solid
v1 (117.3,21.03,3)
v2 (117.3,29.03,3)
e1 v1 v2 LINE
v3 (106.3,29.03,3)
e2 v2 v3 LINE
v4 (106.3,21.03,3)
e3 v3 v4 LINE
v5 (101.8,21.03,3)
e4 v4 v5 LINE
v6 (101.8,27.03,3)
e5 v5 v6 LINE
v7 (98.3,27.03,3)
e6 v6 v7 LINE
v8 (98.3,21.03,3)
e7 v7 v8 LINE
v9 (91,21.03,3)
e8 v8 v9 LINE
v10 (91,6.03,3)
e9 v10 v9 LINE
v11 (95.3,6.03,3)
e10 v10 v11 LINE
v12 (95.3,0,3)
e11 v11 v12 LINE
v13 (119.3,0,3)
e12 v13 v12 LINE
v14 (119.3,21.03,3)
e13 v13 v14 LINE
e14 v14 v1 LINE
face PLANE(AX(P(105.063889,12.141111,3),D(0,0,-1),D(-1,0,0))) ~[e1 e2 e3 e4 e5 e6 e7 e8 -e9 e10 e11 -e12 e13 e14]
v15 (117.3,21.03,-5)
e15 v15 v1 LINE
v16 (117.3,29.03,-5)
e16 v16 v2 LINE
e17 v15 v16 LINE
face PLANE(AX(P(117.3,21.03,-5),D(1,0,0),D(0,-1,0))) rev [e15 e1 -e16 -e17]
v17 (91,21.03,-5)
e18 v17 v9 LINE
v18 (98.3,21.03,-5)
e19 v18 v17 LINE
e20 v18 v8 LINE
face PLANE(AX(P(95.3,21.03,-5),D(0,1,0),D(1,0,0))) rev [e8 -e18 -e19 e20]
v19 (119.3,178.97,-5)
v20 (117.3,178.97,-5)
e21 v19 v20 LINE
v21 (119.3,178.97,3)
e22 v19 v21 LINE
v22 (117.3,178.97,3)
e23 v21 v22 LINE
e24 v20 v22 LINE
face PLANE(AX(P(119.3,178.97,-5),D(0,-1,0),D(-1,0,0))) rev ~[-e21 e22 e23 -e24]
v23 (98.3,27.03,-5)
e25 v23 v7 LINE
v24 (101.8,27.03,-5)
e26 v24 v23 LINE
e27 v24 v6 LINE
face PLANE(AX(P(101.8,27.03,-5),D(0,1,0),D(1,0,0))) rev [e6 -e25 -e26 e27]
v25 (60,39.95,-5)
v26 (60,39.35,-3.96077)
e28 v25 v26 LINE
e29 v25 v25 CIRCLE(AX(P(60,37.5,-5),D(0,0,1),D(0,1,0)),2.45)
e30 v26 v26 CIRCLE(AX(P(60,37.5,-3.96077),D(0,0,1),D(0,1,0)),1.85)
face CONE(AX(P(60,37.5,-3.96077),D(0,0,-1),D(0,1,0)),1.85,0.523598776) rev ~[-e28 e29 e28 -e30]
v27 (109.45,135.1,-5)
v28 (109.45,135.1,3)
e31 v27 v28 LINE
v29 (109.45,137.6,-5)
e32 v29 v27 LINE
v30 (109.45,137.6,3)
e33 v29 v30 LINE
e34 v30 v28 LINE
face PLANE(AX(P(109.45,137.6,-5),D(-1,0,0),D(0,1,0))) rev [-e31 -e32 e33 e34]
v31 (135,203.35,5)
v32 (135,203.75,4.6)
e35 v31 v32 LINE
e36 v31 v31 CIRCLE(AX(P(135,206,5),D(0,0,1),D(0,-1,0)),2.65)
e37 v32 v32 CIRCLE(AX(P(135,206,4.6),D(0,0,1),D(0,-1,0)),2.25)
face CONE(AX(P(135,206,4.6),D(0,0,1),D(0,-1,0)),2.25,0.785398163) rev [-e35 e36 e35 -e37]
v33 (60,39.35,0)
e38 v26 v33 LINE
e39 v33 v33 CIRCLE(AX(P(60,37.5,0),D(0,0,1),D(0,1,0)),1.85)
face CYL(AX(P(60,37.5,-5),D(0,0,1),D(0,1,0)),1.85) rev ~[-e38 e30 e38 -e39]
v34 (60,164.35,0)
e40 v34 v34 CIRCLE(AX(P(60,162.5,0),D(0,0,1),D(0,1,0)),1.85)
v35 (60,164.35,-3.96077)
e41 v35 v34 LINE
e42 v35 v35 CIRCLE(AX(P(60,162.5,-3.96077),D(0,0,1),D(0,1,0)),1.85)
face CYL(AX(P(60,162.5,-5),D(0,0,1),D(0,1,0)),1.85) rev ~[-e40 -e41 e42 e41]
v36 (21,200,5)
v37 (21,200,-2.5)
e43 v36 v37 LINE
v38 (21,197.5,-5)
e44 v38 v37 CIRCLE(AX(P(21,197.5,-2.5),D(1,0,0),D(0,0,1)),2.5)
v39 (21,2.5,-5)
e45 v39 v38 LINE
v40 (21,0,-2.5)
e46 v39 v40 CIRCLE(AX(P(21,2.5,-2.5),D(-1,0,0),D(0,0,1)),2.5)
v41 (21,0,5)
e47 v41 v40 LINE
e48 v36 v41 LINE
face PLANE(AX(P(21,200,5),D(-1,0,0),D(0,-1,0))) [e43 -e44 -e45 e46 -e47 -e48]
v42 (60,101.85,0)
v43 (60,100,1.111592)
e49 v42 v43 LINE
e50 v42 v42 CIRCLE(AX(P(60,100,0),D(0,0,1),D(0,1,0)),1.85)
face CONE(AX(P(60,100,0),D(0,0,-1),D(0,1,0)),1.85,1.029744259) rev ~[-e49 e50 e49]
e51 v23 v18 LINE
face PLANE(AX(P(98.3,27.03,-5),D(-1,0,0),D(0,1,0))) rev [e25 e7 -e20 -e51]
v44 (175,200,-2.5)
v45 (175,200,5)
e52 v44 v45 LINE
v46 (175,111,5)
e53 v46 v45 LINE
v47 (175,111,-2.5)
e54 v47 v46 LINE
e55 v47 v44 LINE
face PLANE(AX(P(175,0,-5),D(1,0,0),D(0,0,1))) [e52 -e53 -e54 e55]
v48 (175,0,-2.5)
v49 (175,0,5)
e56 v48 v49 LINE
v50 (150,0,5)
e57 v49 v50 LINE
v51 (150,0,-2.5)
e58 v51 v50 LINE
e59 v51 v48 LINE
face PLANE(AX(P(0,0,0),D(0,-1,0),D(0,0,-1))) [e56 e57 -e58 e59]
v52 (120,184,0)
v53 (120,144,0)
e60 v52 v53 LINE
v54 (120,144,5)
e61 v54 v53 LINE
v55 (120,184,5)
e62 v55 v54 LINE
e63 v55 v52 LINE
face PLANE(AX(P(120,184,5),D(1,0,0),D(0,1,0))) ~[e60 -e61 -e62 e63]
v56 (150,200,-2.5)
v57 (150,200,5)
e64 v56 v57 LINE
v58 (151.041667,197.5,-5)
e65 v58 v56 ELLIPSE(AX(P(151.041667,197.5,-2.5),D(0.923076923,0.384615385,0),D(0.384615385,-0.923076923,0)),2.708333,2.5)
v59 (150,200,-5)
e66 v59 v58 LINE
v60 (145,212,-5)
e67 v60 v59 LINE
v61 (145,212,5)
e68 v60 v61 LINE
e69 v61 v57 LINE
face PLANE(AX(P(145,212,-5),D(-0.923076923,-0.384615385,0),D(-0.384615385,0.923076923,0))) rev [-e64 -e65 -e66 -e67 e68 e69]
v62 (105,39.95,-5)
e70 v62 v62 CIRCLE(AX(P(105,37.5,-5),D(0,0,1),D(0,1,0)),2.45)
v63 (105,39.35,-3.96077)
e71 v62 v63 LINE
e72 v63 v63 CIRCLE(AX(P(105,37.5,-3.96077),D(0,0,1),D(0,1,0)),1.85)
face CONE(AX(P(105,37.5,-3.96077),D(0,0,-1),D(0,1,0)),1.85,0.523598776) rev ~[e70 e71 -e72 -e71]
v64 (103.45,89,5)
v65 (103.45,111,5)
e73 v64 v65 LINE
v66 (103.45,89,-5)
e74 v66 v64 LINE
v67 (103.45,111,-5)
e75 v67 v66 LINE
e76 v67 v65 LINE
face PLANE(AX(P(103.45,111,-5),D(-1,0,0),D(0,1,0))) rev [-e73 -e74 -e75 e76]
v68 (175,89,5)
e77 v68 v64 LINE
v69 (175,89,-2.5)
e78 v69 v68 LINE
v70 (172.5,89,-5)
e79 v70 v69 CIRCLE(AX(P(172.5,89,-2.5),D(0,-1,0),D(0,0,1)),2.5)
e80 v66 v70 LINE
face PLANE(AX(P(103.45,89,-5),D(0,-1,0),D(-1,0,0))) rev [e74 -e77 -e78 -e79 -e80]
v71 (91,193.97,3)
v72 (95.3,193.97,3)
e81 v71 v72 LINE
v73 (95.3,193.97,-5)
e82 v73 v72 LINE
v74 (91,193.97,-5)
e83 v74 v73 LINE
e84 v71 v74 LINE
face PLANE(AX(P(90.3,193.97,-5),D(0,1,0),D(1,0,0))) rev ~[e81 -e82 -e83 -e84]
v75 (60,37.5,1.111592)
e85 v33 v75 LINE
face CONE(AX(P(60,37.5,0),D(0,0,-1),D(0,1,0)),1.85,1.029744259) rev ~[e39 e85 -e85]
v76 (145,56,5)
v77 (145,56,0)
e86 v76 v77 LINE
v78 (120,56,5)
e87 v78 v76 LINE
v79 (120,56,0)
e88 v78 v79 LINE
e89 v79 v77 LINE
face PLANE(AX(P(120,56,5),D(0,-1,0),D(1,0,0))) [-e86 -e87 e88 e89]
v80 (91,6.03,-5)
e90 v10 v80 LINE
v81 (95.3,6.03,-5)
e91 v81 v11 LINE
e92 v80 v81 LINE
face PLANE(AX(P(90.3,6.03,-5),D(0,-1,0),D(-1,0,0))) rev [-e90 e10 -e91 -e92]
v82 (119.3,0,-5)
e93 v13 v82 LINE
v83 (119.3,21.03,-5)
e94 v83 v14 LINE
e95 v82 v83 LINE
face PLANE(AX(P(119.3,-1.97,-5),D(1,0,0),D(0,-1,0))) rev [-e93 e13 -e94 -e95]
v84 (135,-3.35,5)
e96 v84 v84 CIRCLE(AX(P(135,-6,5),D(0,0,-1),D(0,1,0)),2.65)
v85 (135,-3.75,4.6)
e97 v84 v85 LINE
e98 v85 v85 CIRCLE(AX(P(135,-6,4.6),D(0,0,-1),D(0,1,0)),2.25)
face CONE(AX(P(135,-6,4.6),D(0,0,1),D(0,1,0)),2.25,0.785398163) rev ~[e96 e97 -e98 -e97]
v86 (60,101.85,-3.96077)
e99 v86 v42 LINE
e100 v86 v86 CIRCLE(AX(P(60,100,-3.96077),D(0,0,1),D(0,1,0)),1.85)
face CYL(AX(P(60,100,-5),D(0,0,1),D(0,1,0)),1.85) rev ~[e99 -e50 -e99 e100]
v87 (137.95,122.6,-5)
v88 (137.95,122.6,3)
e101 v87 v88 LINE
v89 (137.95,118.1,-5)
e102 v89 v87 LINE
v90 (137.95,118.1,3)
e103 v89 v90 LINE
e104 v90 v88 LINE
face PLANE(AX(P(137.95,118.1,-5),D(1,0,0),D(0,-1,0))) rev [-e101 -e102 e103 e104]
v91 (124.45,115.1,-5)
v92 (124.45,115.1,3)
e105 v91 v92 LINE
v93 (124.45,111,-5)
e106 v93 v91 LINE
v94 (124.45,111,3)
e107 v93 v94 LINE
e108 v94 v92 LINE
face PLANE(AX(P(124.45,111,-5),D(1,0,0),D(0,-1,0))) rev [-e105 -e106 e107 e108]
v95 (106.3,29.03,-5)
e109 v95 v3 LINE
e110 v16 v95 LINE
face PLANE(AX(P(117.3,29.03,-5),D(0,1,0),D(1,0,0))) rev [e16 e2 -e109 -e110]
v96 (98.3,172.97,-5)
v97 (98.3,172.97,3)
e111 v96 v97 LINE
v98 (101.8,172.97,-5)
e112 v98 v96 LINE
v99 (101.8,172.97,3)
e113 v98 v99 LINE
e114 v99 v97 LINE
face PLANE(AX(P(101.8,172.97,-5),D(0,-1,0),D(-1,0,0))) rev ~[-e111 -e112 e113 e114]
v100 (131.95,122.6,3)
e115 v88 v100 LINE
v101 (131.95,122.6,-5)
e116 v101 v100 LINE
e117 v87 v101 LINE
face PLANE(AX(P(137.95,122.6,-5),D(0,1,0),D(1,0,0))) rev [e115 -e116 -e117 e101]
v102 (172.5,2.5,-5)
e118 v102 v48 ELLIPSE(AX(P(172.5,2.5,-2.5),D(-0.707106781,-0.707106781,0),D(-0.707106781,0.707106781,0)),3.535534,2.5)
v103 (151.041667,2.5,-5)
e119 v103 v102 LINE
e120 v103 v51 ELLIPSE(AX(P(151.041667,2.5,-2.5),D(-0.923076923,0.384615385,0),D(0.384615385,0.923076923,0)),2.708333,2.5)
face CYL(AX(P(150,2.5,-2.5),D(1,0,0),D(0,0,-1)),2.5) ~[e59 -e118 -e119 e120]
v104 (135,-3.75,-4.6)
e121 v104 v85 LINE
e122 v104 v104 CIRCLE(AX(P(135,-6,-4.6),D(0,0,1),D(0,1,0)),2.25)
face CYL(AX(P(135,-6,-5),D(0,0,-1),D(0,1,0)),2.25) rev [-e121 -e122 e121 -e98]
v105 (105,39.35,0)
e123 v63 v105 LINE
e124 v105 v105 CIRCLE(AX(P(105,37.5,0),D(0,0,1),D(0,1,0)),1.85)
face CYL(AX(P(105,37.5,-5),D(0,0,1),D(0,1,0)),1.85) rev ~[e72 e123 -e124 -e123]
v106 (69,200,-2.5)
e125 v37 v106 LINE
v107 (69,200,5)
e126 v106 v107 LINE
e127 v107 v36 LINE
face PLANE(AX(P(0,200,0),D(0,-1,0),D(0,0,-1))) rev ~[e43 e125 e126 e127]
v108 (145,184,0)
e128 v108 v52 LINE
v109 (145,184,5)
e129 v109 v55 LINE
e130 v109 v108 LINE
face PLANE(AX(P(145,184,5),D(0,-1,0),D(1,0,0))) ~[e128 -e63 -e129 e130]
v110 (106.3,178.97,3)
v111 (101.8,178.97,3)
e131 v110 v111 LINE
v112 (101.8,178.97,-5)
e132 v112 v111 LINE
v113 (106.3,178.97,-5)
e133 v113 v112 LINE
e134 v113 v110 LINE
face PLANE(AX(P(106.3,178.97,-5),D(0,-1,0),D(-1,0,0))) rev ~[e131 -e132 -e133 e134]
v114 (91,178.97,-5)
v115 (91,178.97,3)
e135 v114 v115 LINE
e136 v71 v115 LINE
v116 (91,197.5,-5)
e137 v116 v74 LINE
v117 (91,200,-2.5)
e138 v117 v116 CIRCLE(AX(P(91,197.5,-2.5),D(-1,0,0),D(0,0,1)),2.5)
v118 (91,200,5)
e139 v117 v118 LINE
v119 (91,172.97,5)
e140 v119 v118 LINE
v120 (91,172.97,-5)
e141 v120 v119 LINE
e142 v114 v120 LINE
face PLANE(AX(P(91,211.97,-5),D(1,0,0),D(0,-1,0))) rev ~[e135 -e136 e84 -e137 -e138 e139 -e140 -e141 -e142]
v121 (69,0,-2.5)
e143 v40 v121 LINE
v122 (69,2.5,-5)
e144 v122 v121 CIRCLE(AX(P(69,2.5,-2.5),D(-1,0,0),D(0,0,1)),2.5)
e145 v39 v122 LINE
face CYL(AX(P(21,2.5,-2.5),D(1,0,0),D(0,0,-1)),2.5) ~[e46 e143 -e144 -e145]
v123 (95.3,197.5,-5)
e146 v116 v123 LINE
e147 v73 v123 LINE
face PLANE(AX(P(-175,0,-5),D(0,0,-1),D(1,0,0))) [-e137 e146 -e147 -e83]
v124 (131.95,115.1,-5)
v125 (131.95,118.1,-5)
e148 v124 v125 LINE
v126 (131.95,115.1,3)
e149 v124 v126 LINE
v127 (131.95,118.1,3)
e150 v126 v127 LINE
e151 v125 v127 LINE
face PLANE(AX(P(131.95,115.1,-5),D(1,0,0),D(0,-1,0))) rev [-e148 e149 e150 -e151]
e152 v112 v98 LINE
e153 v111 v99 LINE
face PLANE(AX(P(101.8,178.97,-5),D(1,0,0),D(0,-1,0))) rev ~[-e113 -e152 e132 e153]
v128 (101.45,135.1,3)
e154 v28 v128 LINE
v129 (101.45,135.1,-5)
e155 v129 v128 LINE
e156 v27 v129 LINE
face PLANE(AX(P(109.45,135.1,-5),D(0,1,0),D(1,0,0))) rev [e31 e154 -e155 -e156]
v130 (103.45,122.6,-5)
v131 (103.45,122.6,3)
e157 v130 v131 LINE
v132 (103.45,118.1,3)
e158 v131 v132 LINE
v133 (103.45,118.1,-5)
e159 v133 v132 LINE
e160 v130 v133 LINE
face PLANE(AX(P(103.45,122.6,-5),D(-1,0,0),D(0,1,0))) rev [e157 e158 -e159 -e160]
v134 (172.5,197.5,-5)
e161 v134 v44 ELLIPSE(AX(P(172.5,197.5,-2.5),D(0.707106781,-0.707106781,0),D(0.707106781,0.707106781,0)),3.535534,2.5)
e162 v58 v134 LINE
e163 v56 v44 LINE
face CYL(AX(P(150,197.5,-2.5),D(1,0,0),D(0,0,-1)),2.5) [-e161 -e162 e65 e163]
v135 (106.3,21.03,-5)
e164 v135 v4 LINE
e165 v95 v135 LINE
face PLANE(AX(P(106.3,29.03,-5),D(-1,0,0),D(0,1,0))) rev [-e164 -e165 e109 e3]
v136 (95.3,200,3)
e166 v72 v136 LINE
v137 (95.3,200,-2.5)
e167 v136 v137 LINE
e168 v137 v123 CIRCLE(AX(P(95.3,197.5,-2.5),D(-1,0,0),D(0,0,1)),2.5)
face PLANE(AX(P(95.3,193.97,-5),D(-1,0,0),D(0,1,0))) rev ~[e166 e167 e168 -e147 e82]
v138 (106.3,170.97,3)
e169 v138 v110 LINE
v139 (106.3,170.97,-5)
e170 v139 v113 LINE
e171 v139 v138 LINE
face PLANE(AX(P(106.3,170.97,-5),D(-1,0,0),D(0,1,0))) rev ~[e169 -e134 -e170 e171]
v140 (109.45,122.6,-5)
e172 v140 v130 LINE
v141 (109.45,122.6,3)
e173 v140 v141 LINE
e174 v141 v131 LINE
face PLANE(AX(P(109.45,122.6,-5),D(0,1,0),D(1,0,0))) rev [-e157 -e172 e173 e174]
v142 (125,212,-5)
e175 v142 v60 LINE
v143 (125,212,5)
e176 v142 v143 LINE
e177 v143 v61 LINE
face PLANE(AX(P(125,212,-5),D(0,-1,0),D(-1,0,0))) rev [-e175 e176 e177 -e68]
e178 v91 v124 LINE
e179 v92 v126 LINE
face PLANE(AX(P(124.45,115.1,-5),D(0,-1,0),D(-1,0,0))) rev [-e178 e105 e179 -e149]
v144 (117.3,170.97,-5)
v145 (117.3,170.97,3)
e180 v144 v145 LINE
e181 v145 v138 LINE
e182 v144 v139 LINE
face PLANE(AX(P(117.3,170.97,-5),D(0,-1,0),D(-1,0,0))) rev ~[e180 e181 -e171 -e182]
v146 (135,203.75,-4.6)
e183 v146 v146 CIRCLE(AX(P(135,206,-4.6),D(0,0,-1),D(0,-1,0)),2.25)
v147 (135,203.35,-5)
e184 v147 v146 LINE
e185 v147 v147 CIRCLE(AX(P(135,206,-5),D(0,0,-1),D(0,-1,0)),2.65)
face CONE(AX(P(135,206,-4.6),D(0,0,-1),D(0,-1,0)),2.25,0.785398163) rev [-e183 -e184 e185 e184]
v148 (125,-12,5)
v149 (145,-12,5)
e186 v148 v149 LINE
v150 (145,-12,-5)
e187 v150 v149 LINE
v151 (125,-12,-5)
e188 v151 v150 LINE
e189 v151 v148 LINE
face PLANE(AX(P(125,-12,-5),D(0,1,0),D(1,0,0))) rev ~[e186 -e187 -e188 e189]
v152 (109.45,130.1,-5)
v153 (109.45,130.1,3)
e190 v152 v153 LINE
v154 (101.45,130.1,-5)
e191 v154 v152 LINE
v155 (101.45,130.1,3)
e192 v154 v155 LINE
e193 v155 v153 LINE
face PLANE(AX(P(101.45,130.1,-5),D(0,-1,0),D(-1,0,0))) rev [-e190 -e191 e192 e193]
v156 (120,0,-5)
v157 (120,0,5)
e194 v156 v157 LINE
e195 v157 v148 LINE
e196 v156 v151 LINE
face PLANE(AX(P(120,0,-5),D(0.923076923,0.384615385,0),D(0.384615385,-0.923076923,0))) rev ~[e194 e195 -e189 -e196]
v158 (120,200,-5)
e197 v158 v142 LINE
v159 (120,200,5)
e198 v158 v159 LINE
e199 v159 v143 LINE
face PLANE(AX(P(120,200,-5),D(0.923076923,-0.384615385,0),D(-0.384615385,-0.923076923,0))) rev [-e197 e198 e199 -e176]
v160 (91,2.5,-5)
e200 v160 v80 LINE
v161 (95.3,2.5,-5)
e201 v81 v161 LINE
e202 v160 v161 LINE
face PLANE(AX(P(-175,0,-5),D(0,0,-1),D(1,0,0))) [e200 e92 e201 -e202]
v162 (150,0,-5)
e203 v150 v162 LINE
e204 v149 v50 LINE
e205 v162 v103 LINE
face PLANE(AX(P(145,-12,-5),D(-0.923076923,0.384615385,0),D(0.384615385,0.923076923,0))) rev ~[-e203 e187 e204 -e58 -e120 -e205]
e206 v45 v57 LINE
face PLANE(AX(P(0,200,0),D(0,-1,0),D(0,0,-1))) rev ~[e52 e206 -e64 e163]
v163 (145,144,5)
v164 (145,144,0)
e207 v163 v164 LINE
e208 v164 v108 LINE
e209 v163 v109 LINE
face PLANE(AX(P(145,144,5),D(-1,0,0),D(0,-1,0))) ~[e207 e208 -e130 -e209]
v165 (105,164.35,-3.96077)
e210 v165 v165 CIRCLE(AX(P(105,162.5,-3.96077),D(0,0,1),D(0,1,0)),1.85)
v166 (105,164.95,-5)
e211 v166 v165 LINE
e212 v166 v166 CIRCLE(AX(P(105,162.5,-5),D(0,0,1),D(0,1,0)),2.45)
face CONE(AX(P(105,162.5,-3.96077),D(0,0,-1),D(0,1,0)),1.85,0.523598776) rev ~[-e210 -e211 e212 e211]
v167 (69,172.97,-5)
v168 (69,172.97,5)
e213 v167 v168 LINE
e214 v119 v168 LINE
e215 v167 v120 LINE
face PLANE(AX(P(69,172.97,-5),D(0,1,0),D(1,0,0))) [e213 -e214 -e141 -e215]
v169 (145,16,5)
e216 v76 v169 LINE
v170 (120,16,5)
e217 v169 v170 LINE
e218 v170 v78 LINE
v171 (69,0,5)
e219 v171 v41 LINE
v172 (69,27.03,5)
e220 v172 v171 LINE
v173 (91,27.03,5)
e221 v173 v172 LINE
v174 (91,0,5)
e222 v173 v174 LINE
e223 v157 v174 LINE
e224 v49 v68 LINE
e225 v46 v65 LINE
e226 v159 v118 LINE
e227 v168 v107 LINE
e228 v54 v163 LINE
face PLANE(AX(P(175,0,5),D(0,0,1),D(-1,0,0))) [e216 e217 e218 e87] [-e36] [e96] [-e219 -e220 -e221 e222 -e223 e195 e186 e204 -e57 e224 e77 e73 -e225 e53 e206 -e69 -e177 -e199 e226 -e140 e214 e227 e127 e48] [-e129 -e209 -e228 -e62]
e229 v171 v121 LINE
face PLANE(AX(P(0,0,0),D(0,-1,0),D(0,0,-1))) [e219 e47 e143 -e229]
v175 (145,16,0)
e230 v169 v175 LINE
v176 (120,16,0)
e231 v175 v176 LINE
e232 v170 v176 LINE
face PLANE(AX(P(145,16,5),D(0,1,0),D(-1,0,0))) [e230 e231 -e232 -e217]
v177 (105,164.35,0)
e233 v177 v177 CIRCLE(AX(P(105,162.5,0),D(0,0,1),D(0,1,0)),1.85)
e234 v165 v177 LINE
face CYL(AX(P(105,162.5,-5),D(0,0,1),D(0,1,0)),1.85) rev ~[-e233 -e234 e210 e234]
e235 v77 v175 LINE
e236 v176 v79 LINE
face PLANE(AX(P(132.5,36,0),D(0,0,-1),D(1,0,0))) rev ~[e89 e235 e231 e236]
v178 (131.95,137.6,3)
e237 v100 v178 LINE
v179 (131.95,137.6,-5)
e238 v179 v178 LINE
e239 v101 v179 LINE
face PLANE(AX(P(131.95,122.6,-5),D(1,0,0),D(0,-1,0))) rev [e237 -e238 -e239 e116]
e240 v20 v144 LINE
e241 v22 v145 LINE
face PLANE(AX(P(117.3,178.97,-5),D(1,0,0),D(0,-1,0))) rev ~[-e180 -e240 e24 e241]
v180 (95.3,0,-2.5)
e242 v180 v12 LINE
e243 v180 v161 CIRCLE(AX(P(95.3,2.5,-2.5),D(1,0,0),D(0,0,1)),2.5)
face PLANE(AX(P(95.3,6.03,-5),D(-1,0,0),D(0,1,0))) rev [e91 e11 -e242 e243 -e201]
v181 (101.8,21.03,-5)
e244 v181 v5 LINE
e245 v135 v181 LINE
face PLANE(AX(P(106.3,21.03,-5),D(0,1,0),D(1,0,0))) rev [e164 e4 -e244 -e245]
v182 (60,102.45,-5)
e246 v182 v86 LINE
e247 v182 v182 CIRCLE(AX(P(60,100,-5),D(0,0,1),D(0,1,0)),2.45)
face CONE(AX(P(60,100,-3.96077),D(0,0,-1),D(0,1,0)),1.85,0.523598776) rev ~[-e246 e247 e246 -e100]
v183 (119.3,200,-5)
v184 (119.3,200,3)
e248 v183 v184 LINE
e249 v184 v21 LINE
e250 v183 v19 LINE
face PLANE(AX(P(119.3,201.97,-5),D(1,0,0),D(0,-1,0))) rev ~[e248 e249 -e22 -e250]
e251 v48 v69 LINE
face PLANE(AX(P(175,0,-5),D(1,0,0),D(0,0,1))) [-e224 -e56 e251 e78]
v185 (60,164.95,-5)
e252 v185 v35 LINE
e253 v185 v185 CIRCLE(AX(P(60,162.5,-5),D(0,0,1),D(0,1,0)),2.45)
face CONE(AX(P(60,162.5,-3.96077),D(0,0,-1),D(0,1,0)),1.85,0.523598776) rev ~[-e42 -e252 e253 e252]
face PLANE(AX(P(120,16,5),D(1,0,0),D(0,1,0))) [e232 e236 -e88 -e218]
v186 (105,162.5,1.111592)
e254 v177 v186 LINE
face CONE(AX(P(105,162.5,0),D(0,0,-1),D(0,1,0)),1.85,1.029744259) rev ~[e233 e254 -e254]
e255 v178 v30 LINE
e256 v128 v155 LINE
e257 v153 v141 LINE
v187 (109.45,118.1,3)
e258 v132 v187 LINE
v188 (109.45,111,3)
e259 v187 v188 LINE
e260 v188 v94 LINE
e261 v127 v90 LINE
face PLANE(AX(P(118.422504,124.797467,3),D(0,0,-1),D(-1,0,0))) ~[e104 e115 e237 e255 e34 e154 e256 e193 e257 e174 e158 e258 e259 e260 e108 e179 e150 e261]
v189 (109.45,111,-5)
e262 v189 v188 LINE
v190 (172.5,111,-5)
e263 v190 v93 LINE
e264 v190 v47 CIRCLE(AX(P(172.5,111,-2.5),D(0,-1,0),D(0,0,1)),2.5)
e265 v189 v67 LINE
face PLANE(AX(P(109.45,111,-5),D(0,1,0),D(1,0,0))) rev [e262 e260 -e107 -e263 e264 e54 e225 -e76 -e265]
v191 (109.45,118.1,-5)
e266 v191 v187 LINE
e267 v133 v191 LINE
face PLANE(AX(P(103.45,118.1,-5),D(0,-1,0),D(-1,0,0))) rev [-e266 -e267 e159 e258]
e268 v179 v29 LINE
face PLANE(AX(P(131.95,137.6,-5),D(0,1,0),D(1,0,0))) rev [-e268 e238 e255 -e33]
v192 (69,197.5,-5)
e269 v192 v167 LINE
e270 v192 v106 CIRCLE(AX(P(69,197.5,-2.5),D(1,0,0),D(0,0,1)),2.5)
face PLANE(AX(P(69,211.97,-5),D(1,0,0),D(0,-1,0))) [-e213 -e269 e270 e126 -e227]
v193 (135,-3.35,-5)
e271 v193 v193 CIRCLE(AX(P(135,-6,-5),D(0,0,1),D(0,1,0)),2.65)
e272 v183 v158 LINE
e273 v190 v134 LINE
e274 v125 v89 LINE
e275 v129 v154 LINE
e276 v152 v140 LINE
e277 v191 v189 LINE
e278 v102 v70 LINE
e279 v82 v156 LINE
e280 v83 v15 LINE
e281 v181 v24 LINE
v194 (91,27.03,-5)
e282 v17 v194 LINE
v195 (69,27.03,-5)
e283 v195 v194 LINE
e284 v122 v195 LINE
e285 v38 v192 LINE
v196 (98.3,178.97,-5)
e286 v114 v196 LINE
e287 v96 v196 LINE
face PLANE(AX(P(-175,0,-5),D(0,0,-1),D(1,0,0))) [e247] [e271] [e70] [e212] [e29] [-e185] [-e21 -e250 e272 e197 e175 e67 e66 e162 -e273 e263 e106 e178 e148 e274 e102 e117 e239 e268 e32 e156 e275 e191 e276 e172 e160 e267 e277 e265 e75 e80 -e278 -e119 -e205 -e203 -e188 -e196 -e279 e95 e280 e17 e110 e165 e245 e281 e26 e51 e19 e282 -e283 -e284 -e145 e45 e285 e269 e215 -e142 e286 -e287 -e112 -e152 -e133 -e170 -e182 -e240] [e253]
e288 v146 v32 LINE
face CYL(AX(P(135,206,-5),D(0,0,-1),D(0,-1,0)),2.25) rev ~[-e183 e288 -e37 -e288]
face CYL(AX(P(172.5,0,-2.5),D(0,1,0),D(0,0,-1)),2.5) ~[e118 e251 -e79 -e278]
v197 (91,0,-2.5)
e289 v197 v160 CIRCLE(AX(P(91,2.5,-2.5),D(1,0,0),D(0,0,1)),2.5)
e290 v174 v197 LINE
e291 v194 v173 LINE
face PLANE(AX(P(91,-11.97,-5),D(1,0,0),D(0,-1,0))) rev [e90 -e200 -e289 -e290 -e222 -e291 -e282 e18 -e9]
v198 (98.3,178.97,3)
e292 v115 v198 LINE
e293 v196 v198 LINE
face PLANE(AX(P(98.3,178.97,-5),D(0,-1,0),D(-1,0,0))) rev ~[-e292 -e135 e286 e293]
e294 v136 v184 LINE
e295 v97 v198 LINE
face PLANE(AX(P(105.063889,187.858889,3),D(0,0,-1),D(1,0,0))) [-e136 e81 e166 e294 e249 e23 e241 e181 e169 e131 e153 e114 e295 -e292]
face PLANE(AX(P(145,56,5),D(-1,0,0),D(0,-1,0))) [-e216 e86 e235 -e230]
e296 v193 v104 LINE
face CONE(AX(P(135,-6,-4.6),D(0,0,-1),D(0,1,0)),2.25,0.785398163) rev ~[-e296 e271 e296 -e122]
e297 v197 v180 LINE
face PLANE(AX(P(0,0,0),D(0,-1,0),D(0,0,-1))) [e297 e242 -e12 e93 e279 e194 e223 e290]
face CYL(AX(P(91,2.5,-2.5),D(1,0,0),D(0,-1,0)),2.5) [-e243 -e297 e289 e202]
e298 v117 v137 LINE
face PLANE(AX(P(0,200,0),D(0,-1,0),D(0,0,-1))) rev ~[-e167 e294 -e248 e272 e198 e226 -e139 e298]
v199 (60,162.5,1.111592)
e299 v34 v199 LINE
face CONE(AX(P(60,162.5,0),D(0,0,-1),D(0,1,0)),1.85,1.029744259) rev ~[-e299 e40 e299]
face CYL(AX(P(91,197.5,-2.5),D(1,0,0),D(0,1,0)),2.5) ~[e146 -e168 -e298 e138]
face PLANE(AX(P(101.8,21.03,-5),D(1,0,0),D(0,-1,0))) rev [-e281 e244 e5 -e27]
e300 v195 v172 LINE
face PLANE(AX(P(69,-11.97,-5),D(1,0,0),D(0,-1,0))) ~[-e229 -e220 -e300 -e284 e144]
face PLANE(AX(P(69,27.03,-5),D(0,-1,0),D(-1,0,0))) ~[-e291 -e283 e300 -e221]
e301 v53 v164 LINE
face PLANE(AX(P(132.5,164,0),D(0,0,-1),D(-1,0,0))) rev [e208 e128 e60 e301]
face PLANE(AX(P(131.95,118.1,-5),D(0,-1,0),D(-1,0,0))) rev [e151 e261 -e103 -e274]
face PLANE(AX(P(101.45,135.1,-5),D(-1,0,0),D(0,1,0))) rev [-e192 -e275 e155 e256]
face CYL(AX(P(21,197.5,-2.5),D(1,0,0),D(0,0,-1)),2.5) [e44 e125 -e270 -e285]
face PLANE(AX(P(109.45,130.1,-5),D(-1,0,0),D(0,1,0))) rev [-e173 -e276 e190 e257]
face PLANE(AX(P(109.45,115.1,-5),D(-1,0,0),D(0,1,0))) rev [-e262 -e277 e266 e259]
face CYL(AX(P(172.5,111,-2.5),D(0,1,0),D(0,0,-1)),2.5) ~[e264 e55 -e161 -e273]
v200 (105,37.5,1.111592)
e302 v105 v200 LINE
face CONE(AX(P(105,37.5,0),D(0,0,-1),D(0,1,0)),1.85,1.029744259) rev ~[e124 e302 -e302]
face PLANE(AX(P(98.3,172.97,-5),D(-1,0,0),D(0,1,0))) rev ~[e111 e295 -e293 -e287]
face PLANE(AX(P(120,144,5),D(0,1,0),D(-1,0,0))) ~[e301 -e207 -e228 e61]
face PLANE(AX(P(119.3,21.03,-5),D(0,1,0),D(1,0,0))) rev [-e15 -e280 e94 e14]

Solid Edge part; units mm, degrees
sketch "Sketch1" plane through (0, 0, 0) normal (0, -1, 0) x (1, 0, 0)
  line L0 (-175, -5) -> (175, -5)
  line L1 (175, -5) -> (175, 5)
  line L2 (175, 5) -> (-175, 5)
  line L3 (-175, 5) -> (-175, -5)
  dimension "D1" = 350
  dimension "D2" = 10
extrude "Protrusion1" add sketch "Sketch1" against normal blind 200
sketch "Sketch2" plane through (0, 100, -5) normal (0, 0, -1) x (1, 0, 0)
  line L0 (-21.8, 78.97) -> (-21.8, 72.97)
  line L1 (-21.8, 72.97) -> (-18.3, 72.97)
  line L2 (-18.3, 72.97) -> (-18.3, 78.97)
  line L3 (-18.3, 78.97) -> (-15.3, 78.97)
  line L4 (-15.3, 78.97) -> (-10.3, 78.97)
  line L5 (-10.3, 78.97) -> (-10.3, 93.97)
  line L6 (-10.3, 93.97) -> (-15.3, 93.97)
  line L7 (-15.3, 93.97) -> (-15.3, 101.97)
  line L8 (-15.3, 101.97) -> (-18.3, 101.97)
  line L9 (-18.3, 101.97) -> (-18.3, 107.97)
  line L10 (-18.3, 107.97) -> (-21.8, 107.97)
  line L11 (-21.8, 107.97) -> (-21.8, 101.97)
  line L12 (-21.8, 101.97) -> (-39.3, 101.97)
  line L13 (-39.3, 101.97) -> (-39.3, 78.97)
  line L14 (-39.3, 78.97) -> (-37.3, 78.97)
  line L15 (-37.3, 78.97) -> (-37.3, 70.97)
  line L16 (-37.3, 70.97) -> (-26.3, 70.97)
  line L17 (-26.3, 70.97) -> (-26.3, 78.97)
  line L18 (-26.3, 78.97) -> (-21.8, 78.97)
  dimension "D1" = 23
  dimension "D2" = 6
  dimension "D3" = 3
  dimension "D4" = 5
  dimension "D5" = 24
  dimension "D6" = 15
  dimension "D7" = 1.97
  dimension "D8" = 10.3
  dimension "D9" = 17.5
  dimension "D10" = 8
  dimension "D11" = 11
  dimension "D12" = 2
extrude "Cutout1" cut sketch "Sketch2" against normal blind 8
sketch "Sketch3" plane through (0, 100, -5) normal (0, 0, -1) x (1, 0, 0)
  line L0 (11, 72.97) -> (-11, 72.97)
  line L1 (-11, 111.97) -> (-11, 72.97)
  line L2 (11, 111.97) -> (-11, 111.97)
  line L3 (11, 111.97) -> (11, 72.97)
  dimension "D1" = 22
  dimension "D2" = 0.7
  dimension "D3" = 39
  dimension "D4" = 6
extrude "Cutout2" cut sketch "Sketch3" against normal through all
mirror "Mirror1" about plane through (0, 100, 0) normal (0, -1, 0) of "Cutout1", "Cutout2"
mirror "Mirror2" about plane through (40, 0, 0) normal (1, 0, 0) of "Mirror1", "Cutout2", "Cutout1"
mirror "Mirror3" about plane through (-40, 0, 0) normal (1, 0, 0) of "Cutout2", "Cutout1", "Mirror1"
sketch "Sketch4" plane through (0, 100, -5) normal (0, 0, -1) x (0, -1, 0)
  line L0 (-22.6, 109.45) -> (-22.6, 103.45)
  line L1 (-22.6, 103.45) -> (-18.1, 103.45)
  line L2 (-18.1, 103.45) -> (-18.1, 109.45)
  line L3 (-18.1, 109.45) -> (-15.1, 109.45)
  line L4 (-15.1, 109.45) -> (-11, 109.45)
  line L5 (-11, 109.45) -> (-11, 124.45)
  line L6 (-11, 124.45) -> (-15.1, 124.45)
  line L7 (-15.1, 124.45) -> (-15.1, 131.95)
  line L8 (-15.1, 131.95) -> (-18.1, 131.95)
  line L9 (-18.1, 131.95) -> (-18.1, 137.95)
  line L10 (-18.1, 137.95) -> (-22.6, 137.95)
  line L11 (-22.6, 137.95) -> (-22.6, 131.95)
  line L12 (-22.6, 131.95) -> (-37.6, 131.95)
  line L13 (-37.6, 131.95) -> (-37.6, 109.45)
  line L14 (-37.6, 109.45) -> (-35.1, 109.45)
  line L15 (-35.1, 109.45) -> (-35.1, 101.45)
  line L16 (-35.1, 101.45) -> (-30.1, 101.45)
  line L17 (-30.1, 101.45) -> (-30.1, 109.45)
  line L18 (-30.1, 109.45) -> (-22.6, 109.45)
  dimension "D1" = 6
  dimension "D2" = 3
  dimension "D3" = 4.1
  dimension "D4" = 22.5
  dimension "D5" = 15
  dimension "D6" = 22.5
  dimension "D7" = 103.45
  dimension "D8" = 11
  dimension "D9" = 15
  dimension "D10" = 8
  dimension "D11" = 5
  dimension "D12" = 2.5
  dimension "D13" = 15
extrude "Cutout3" cut sketch "Sketch4" against normal up to vertex (8 mm away)
sketch "Sketch5" plane through (0, 100, -5) normal (0, 0, -1) x (0, -1, 0)
  line L0 (-11, 109.45) -> (-11, 103.45)
  line L1 (-11, 103.45) -> (11, 103.45)
  line L2 (11, 103.45) -> (11, 175)
  line L3 (11, 175) -> (-11, 175)
  line L4 (-11, 175) -> (-11, 109.45)
  dimension "D1" = 6
  dimension "D2" = 22
extrude "Cutout4" cut sketch "Sketch5" against normal through all
mirror "Mirror4" about plane through (0, 0, 0) normal (1, 0, 0) of "Cutout4", "Cutout3"
sketch "Sketch6" plane through (0, 100, -5) normal (0, 0, -1) x (1, 0, 0)
  circle A0 centre (-97.5, 62.5) radius 1.875
  circle A1 centre (-52.5, 62.5) radius 1.875
  circle A2 centre (-52.5, 0) radius 1.875
  circle A3 centre (-97.5, -62.5) radius 1.875
  circle A4 centre (-52.5, -62.5) radius 1.875
  dimension "D1" = 195
  dimension "D2" = 125
  dimension "D3" = 3.75
  dimension "D4" = 45
extrude "Cutout5" cut sketch "Sketch6" against normal blind 7
sketch "Sketch7" plane through (0, 100, 5) normal (0, 0, 1) x (1, 0, 0)
  line L0 (-120, 84) -> (-120, 44)
  line L1 (-120, 44) -> (-145, 44)
  line L2 (-145, 44) -> (-145, 84)
  line L3 (-145, 84) -> (-120, 84)
  dimension "D1" = 40
  dimension "D2" = 25
  dimension "D3" = 15
  dimension "D4" = 30
extrude "Cutout6" cut sketch "Sketch7" against normal blind 5
mirror "Mirror5" about plane through (0, 100, 0) normal (0, -1, 0) of "Cutout6"
mirror "Mirror6" about plane through (0, 0, 0) normal (1, 0, 0) of "Cutout6", "Mirror5"
sketch "Sketch8" plane through (0, 100, 5) normal (0, 0, 1) x (1, 0, 0)
  line L0 (21, 100) -> (21, -100)
  dimension "D1" = 10
extrude "Cutout7" cut sketch "Sketch8" against normal through all material side at (20.95, 100, 5)
hole "Hole_11" at (105, 37.5, -5) direction (0, 0, 1) diameter 3.7 depth 5 tip angle 118 start chamfer 0.6 start chamfer angle 30 end chamfer 0.6 end chamfer angle 30
hole "Hole1" at (105, 162.5, -5) direction (0, 0, 1) diameter 3.7 depth 5 tip angle 118 start chamfer 0.6 start chamfer angle 30 end chamfer 0.6 end chamfer angle 30
hole "Hole2" at (60, 37.5, -5) direction (0, 0, 1) diameter 3.7 depth 5 tip angle 118 start chamfer 0.6 start chamfer angle 30 end chamfer 0.6 end chamfer angle 30
hole "Hole3" at (60, 100, -5) direction (0, 0, 1) diameter 3.7 depth 5 tip angle 118 start chamfer 0.6 start chamfer angle 30 end chamfer 0.6 end chamfer angle 30
hole "Hole4" at (60, 162.5, -5) direction (0, 0, 1) diameter 3.7 depth 5 tip angle 118 start chamfer 0.6 start chamfer angle 30 end chamfer 0.6 end chamfer angle 30
sketch "Sketch9" plane through (98, 100, -5) normal (0, 0, -1) x (1, 0, 0)
  line L0 (22, 100) -> (27, 112)
  line L1 (27, 112) -> (47, 112)
  line L2 (47, 112) -> (52, 100)
  line L3 (52, 100) -> (22, 100)
  dimension "D1" = 30
  dimension "D2" = 20
  dimension "D3" = 12
  dimension "D4" = 120
extrude "Protrusion2" add sketch "Sketch9" against normal up to vertex (10 mm away)
hole "Hole_16" at (135, -6, -5) direction (0, 0, 1) diameter 4.5 end up to next start chamfer 0.4 start chamfer angle 45 end chamfer 0.4 end chamfer angle 45
mirror "Mirror7" about plane through (0, 100, 0) normal (0, -1, 0) of "Protrusion2", "Hole_16"
fillet "Round1" radius 2.5 8 edges at (45, 200, -5) (93.15, 200, -5) (162.5, 200, -5) (175, 155.5, -5) (175, 44.5, -5) (162.5, 0, -5) (93.15, 0, -5) (45, 0, -5)
properties material "Nylon, allgemein"
